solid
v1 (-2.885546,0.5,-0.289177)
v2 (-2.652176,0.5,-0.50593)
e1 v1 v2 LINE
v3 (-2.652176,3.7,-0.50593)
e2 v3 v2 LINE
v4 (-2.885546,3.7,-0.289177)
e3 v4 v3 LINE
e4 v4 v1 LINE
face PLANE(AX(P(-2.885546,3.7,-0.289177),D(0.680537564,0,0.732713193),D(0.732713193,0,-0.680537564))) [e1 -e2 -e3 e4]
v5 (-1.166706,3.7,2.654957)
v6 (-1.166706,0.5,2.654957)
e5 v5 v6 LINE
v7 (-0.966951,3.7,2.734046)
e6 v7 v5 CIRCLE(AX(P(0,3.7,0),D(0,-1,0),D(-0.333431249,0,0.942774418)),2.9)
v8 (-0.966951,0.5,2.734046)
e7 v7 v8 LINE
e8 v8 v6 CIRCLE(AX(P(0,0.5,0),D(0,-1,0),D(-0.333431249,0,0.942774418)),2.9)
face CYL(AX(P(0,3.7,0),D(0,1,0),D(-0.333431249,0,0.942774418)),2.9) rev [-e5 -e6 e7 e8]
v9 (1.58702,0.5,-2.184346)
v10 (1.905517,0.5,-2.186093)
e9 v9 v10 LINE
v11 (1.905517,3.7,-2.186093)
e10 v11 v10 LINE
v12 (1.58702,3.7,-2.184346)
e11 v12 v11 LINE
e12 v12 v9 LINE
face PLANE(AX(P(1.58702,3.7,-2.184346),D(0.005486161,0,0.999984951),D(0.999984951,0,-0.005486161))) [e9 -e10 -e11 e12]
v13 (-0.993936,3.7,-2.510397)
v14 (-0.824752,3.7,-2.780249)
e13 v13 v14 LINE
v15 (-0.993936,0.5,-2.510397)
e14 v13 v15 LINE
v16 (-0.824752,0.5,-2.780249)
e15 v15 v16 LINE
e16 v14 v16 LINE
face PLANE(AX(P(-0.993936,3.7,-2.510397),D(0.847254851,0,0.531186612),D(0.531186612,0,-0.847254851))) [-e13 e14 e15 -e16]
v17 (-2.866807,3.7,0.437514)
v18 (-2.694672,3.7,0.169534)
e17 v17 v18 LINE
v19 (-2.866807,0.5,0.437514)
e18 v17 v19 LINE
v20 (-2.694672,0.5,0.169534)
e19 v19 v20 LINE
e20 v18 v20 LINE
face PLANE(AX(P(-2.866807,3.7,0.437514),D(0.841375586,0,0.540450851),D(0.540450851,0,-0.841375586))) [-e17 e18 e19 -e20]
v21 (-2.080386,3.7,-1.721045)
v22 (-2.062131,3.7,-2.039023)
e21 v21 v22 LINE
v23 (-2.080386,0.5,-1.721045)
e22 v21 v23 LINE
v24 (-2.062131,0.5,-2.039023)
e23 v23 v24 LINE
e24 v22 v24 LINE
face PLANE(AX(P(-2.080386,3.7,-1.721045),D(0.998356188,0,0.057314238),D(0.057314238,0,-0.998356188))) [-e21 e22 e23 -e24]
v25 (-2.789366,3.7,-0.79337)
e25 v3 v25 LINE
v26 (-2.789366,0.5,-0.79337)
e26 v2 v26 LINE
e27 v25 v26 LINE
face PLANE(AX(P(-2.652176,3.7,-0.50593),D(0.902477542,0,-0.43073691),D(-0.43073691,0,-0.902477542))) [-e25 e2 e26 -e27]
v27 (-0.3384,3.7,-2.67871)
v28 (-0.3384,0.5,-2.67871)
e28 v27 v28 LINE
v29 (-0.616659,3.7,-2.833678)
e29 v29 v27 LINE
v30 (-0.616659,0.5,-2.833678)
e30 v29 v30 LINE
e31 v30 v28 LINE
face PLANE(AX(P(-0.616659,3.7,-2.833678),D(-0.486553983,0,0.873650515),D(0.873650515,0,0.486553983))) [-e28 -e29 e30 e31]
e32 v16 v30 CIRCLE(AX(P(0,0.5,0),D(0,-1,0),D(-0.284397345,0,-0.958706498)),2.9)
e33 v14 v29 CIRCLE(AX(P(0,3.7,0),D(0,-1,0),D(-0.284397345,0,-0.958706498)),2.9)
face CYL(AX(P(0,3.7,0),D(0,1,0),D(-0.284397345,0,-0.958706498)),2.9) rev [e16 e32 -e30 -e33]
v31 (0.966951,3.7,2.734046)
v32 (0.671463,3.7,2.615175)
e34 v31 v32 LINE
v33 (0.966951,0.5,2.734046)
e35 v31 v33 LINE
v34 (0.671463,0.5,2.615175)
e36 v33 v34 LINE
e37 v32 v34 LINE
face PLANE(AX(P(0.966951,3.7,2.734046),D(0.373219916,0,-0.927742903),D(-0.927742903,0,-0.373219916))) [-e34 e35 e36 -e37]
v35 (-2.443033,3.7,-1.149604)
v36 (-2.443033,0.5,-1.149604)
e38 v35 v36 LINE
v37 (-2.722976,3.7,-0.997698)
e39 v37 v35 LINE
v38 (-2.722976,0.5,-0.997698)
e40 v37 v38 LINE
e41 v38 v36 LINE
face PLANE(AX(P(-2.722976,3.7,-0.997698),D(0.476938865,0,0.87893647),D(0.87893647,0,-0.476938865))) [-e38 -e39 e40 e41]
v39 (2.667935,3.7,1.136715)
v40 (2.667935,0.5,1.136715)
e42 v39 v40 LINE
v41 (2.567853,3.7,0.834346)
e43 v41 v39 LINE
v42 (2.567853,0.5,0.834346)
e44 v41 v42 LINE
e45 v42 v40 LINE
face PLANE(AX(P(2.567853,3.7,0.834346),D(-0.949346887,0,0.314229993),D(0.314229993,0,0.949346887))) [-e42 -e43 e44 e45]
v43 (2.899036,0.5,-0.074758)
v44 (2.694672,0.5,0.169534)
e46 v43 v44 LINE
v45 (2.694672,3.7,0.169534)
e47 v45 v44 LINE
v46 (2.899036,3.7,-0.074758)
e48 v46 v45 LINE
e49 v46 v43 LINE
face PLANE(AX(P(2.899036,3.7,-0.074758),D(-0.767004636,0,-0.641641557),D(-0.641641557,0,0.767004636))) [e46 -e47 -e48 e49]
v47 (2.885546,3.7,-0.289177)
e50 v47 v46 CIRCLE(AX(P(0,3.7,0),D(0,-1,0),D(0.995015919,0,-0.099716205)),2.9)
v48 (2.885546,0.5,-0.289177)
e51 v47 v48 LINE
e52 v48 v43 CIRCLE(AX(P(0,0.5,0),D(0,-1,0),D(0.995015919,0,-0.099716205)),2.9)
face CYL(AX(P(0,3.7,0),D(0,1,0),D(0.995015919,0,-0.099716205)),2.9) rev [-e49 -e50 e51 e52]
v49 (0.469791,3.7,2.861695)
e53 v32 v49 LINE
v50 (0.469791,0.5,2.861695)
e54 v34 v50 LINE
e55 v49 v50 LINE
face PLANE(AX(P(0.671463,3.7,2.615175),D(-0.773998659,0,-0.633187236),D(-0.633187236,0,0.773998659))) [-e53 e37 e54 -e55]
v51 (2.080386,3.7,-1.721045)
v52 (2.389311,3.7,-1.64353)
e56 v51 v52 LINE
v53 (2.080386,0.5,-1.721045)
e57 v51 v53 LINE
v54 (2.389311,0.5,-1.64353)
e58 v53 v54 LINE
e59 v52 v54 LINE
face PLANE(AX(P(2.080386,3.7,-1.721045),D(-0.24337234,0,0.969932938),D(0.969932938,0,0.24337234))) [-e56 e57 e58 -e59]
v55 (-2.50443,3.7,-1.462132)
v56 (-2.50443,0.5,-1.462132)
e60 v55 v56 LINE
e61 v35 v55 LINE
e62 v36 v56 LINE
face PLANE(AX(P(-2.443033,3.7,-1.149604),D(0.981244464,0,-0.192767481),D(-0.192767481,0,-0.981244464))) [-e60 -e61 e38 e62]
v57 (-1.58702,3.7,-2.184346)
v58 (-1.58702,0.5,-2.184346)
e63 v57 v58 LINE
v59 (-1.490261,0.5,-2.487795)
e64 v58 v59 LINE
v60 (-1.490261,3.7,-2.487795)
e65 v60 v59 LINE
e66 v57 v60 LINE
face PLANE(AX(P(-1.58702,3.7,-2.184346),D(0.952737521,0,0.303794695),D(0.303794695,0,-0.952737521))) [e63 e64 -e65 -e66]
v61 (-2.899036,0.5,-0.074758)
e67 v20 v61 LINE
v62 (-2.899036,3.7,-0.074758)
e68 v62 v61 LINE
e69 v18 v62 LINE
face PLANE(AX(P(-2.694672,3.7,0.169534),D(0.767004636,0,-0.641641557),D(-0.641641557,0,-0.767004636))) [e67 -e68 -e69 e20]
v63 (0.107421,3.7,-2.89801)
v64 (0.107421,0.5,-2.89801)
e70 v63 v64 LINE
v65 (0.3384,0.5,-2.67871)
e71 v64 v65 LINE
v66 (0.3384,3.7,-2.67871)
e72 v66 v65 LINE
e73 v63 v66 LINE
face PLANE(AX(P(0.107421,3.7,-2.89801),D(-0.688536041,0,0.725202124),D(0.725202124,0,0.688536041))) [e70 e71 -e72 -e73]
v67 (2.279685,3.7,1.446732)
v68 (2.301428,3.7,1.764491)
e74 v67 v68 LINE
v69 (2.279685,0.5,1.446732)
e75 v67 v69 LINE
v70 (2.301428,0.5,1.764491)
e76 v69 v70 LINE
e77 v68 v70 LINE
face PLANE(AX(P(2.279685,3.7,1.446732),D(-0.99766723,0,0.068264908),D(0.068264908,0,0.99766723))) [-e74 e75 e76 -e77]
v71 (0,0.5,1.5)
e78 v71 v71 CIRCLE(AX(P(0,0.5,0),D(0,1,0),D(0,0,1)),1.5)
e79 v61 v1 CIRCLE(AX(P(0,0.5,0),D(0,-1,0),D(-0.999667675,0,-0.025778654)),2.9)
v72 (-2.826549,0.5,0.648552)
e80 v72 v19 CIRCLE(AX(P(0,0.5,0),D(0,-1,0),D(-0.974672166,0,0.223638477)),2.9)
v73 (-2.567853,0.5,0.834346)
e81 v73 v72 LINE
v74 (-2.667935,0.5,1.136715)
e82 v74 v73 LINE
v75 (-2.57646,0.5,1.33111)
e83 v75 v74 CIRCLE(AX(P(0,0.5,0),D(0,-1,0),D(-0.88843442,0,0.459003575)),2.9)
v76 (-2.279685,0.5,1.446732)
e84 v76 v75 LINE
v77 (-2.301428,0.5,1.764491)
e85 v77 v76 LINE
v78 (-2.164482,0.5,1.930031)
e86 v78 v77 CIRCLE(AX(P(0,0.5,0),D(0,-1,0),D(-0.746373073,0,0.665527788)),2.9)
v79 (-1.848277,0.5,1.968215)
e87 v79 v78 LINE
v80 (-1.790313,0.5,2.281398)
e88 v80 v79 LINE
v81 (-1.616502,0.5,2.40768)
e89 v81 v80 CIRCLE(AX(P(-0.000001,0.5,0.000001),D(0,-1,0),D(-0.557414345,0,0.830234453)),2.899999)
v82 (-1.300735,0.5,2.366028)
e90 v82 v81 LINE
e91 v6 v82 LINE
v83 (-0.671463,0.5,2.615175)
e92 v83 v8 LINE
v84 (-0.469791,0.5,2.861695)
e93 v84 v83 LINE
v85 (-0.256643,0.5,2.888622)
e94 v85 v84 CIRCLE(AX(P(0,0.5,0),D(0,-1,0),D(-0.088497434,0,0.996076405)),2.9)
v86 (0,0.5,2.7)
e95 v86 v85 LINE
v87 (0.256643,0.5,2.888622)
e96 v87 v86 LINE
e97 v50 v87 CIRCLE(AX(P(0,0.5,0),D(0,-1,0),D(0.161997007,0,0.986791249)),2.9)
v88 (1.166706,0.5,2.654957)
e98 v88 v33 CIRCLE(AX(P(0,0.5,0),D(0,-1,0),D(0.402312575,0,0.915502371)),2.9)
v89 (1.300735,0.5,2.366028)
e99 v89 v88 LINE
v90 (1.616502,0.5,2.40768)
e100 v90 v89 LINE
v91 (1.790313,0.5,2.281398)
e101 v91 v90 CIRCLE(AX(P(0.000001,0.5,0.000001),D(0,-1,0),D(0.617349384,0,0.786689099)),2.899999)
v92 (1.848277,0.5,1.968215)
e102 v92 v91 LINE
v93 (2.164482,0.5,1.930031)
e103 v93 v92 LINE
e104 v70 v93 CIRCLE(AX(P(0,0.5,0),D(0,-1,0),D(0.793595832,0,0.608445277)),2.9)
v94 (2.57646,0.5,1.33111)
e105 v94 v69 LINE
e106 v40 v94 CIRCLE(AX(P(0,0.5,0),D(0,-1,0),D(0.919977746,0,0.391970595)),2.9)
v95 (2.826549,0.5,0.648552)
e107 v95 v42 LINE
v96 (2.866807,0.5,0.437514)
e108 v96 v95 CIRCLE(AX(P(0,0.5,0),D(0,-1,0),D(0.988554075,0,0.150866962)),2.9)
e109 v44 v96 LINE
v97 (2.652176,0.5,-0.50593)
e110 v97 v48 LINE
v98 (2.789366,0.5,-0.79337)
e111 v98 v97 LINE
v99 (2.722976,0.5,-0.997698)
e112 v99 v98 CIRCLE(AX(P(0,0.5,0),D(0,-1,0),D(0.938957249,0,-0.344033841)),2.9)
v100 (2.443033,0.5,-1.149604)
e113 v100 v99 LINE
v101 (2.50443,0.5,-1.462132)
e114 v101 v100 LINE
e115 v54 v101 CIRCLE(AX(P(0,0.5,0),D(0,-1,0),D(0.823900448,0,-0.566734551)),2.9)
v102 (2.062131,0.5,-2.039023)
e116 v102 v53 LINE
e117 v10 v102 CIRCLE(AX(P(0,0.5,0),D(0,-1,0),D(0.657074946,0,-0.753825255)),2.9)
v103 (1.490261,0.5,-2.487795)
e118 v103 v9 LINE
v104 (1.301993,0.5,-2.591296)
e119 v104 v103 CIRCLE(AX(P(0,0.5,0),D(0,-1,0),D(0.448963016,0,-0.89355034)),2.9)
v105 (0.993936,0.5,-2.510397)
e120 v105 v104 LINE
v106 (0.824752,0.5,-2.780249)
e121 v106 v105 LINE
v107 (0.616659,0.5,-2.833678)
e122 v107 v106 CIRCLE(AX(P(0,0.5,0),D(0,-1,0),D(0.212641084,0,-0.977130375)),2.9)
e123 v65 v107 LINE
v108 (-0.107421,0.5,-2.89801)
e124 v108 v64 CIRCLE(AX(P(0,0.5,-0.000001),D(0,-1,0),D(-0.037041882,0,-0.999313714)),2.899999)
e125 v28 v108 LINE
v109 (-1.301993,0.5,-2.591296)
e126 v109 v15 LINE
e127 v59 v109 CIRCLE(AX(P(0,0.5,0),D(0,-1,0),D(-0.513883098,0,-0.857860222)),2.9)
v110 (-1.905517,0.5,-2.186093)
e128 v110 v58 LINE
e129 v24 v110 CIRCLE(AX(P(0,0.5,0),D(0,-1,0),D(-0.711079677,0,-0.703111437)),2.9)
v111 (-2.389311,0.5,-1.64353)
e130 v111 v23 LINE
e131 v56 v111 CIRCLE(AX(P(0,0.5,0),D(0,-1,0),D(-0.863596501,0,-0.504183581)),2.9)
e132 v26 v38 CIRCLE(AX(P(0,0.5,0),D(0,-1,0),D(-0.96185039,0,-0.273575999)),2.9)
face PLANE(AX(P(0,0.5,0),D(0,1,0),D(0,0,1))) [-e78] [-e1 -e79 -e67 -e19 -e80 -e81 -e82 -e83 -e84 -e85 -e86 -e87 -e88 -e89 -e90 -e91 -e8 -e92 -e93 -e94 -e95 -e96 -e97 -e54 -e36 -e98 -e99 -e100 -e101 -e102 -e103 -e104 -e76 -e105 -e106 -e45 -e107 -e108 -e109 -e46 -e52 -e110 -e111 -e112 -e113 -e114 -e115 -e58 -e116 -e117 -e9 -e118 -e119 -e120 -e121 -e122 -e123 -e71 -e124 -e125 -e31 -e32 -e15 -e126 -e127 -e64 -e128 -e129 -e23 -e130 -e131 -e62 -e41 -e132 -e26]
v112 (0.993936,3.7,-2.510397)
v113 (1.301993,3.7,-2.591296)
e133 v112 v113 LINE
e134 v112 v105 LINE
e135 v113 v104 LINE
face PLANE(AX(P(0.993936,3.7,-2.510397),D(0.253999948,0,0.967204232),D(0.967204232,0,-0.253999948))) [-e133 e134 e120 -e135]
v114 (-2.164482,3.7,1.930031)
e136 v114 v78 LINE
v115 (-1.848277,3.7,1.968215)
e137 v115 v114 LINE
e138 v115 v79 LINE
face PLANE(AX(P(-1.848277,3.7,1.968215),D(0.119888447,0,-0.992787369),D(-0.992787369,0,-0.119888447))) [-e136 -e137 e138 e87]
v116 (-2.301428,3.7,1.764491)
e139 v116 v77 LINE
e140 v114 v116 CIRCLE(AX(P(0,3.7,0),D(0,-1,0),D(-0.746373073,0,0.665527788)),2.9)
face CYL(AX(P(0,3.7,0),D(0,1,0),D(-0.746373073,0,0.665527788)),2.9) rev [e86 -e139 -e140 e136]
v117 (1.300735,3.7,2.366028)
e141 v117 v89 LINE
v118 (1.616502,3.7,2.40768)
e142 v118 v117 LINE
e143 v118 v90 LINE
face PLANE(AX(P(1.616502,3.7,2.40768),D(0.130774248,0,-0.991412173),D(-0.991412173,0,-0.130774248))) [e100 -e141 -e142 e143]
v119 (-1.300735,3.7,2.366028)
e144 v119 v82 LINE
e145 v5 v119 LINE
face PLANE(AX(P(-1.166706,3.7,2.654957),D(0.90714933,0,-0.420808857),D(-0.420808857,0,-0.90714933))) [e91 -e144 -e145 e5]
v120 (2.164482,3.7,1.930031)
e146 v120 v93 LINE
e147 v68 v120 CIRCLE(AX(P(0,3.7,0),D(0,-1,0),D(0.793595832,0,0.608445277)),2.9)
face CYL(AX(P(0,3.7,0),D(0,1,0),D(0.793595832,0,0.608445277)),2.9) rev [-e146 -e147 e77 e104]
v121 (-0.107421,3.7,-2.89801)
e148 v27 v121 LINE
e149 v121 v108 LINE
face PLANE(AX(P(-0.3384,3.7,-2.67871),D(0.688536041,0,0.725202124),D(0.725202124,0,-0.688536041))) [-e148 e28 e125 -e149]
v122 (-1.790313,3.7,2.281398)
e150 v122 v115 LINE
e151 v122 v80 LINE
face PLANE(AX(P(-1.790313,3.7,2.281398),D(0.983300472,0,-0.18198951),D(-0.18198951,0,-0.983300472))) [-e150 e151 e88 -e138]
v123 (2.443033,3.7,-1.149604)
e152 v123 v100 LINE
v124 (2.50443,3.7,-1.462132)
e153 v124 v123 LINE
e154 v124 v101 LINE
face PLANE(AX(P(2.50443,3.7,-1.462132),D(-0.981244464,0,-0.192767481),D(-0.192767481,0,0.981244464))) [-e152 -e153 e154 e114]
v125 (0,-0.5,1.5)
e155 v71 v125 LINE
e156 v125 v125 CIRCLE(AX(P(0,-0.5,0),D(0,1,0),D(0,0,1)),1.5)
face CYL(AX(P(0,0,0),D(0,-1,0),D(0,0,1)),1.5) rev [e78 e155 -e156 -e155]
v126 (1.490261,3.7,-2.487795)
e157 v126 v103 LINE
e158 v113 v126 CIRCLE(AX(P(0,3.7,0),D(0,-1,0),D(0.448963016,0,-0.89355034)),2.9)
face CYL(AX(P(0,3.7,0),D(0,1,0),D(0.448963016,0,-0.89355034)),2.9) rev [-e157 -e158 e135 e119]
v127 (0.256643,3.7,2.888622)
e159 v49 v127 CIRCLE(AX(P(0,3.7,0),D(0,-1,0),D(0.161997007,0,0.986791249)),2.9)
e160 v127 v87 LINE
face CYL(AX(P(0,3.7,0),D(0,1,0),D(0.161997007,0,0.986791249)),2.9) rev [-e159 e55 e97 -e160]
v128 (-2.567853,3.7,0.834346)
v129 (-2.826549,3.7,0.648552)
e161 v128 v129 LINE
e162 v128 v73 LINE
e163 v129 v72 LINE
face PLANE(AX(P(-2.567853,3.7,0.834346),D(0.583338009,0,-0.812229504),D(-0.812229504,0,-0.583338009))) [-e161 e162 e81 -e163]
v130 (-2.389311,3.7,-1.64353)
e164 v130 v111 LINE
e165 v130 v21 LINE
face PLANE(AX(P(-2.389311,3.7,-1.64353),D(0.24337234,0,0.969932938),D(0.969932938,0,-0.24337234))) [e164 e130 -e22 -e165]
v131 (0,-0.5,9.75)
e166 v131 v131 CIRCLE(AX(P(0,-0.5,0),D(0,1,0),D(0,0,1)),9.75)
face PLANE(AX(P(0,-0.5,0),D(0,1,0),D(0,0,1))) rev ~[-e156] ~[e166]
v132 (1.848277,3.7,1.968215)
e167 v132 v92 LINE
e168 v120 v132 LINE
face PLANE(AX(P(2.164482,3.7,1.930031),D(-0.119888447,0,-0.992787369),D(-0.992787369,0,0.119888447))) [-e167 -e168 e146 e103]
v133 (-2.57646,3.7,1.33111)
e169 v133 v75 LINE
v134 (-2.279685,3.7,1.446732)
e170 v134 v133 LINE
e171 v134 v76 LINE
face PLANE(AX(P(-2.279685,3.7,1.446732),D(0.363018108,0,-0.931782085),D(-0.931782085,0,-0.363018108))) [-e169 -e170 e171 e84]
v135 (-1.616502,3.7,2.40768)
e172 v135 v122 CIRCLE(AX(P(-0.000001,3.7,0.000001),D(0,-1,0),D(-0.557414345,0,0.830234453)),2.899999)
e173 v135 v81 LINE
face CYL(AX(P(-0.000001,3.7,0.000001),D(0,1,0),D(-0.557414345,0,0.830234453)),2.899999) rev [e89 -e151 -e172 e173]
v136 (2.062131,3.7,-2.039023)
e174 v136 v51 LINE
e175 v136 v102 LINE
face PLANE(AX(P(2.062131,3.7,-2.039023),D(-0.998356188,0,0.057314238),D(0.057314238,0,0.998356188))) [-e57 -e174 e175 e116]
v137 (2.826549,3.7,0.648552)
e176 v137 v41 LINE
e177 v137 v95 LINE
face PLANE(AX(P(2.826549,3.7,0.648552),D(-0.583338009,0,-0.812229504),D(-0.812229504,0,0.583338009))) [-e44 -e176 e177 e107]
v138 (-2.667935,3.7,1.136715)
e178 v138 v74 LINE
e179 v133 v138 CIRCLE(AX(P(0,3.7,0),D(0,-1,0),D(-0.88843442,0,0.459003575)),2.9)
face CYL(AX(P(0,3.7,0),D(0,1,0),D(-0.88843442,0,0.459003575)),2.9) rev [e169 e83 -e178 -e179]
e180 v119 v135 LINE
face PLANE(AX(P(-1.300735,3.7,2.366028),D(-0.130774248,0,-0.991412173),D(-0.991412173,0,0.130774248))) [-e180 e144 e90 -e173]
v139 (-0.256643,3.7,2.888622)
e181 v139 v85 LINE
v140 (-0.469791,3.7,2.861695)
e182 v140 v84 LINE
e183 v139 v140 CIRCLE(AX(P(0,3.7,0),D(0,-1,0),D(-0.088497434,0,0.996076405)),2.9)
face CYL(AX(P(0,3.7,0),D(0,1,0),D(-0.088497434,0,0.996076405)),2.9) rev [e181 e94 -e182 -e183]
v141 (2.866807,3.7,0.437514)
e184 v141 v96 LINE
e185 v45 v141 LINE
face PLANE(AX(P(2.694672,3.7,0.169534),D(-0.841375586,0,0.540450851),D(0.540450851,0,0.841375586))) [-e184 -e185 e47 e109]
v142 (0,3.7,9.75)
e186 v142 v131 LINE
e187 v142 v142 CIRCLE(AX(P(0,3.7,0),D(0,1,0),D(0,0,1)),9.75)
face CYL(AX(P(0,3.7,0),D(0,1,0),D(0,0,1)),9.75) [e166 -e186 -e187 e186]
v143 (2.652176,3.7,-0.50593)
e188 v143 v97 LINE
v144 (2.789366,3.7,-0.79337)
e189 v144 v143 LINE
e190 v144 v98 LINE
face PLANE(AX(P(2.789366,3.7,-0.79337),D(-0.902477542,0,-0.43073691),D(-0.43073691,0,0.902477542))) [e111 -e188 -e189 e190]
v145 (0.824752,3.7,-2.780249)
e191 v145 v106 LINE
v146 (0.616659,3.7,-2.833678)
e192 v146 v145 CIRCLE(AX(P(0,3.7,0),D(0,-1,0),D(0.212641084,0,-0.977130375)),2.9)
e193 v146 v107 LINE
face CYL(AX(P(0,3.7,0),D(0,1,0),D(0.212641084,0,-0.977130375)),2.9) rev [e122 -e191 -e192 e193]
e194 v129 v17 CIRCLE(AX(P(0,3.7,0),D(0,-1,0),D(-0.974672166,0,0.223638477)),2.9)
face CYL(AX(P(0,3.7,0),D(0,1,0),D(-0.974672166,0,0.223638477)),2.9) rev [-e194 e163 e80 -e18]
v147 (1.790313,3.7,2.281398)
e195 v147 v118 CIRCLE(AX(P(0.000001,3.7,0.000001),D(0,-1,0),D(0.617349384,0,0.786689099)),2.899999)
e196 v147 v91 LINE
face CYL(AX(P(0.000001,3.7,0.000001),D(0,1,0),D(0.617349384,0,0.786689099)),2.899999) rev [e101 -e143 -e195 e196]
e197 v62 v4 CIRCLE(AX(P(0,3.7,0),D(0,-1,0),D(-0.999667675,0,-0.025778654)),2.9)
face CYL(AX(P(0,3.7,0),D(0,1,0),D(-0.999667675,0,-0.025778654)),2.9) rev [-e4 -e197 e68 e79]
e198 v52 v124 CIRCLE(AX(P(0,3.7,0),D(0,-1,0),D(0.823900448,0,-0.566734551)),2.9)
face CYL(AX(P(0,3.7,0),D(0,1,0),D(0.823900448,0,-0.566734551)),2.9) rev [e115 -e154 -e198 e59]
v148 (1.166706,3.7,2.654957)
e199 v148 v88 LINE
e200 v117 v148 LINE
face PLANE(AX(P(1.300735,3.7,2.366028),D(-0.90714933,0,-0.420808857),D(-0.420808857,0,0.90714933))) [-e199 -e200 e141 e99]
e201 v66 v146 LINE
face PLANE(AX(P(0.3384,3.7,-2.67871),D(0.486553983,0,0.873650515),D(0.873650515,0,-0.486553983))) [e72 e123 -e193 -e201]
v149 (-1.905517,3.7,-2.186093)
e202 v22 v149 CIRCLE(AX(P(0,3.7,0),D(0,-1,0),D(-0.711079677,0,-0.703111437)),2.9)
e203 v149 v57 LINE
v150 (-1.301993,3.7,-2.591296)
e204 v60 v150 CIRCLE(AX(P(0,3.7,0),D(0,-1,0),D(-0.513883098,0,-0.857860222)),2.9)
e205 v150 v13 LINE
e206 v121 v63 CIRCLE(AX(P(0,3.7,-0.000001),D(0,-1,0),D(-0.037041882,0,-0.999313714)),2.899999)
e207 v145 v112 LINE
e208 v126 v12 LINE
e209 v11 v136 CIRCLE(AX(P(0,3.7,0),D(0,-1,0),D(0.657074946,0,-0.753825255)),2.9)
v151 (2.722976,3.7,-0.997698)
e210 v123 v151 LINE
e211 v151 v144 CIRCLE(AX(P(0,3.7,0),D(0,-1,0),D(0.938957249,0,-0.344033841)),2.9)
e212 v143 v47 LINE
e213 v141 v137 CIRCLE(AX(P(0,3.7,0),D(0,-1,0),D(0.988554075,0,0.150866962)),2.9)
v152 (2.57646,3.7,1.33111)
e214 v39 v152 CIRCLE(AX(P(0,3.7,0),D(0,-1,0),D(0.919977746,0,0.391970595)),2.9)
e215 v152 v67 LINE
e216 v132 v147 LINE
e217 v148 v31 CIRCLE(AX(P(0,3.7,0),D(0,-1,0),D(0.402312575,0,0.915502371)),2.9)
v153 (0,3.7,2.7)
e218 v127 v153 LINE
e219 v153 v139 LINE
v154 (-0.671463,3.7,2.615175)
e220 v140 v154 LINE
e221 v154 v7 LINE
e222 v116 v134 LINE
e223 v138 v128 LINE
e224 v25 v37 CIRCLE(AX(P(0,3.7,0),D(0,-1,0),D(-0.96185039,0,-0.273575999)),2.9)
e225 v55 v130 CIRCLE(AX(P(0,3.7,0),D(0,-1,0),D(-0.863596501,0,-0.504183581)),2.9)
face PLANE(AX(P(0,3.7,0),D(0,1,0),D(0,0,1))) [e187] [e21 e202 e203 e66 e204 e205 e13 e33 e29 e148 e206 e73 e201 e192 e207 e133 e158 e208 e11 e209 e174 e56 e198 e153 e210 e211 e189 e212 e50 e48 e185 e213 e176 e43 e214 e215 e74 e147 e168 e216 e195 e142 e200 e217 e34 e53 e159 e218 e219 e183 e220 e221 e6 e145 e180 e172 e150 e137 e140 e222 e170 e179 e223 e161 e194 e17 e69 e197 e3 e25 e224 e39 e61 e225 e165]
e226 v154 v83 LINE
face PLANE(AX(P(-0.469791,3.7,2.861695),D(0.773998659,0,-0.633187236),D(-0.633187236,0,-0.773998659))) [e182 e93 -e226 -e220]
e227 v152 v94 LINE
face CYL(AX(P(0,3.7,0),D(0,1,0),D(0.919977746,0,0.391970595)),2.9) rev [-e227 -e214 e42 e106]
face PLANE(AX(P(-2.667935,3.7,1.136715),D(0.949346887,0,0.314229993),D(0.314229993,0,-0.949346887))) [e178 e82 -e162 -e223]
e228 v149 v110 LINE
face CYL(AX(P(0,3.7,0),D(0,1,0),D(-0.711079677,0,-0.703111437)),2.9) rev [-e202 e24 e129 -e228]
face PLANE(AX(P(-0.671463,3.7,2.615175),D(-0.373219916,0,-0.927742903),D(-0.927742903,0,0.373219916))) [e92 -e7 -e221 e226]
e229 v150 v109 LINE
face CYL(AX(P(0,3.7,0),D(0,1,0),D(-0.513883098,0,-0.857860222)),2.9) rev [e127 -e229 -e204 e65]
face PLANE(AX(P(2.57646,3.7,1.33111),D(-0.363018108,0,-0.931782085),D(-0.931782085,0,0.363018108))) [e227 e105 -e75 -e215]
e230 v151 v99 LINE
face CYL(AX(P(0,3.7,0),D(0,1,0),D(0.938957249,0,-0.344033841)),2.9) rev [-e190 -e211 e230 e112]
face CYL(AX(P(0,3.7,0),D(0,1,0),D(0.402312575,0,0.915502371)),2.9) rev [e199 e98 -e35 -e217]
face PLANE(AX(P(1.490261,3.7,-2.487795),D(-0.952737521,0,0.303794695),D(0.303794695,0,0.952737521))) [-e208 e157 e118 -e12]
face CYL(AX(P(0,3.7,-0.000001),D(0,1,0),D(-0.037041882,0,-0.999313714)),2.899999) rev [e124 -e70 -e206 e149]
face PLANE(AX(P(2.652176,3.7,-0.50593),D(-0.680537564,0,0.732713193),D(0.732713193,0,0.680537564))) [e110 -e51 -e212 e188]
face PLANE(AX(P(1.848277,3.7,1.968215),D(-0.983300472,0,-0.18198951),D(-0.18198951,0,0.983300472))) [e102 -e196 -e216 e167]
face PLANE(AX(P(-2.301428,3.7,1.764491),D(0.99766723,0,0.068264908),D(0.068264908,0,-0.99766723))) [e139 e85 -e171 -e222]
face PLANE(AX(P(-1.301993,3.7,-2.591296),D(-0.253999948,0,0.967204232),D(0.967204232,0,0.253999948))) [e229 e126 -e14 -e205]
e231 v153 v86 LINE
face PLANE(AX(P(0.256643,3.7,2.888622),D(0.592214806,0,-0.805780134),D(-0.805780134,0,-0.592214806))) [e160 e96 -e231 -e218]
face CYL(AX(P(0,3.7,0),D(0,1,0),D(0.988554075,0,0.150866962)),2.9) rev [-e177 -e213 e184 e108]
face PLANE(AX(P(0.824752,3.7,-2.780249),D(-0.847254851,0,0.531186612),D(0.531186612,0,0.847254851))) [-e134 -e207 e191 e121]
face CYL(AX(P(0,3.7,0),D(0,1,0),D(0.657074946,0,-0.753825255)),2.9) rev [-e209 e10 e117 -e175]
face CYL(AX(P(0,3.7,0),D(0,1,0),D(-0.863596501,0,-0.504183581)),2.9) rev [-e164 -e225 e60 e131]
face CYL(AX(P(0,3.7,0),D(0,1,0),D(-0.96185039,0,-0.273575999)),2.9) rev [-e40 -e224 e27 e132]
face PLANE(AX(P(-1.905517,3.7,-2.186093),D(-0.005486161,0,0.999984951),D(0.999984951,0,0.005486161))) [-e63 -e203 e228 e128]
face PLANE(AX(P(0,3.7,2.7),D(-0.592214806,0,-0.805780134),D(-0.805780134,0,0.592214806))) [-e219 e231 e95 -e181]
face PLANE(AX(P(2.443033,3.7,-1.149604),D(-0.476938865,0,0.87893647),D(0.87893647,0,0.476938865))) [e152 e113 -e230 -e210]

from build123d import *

# Parameters (mm, degrees)
SKETCH2_R           = 9.75
SKETCH2_R_2         = 1.5
BOSS_EXTRUDE1_DEPTH = 0.5
BOSS_EXTRUDE2_START = 3.2
SKETCH3_R           = 9.75
BOSS_EXTRUDE2_DEPTH = 3.2


with BuildPart() as part:
    # Sketch2 → Boss-Extrude1 (new, symmetric)
    with BuildSketch(Plane(origin=(0, 0, 0), x_dir=(1, 0, 0), z_dir=(0, 1, 0))):
        with Locations(Location((0, 0, 0), (0, 0, 270))):
            Circle(SKETCH2_R)
        with Locations(Location((0, 0, 0), (0, 0, 270))):
            Circle(SKETCH2_R_2, mode=Mode.SUBTRACT)
    extrude(amount=BOSS_EXTRUDE1_DEPTH, both=True)

    # Sketch3 → Boss-Extrude2 (add)
    with BuildSketch(Plane(origin=(0, 0.5, 0), x_dir=(1, 0, 0), z_dir=(0, 1, 0)).offset(BOSS_EXTRUDE2_START)):
        with Locations(Location((0, 0, 0), (0, 0, 270))):
            Circle(SKETCH3_R)
        with BuildLine():
            Line((0.107421435, 2.898009771), (0.338399731, 2.678709694))
            Line((0.338399731, 2.678709694), (0.61665913, 2.83367809))
            ThreePointArc((0.61665913, 2.83367809), (0.721200673, 2.808891167), (0.824752316, 2.780248841))
            Line((0.824752316, 2.780248841), (0.993936292, 2.510396512))
            Line((0.993936292, 2.510396512), (1.301992734, 2.591295993))
            ThreePointArc((1.301992734, 2.591295993), (1.397085655, 2.541289372), (1.490260976, 2.48779465))
            Line((1.490260976, 2.48779465), (1.587020181, 2.184345885))
            Line((1.587020181, 2.184345885), (1.905517346, 2.186093238))
            ThreePointArc((1.905517346, 2.186093238), (1.985186607, 2.11400902), (2.062131058, 2.039023173))
            Line((2.062131058, 2.039023173), (2.080385755, 1.721044772))
            Line((2.080385755, 1.721044772), (2.389311295, 1.643530205))
            ThreePointArc((2.389311295, 1.643530205), (2.448550984, 1.553897705), (2.504429862, 1.46213237))
            Line((2.504429862, 1.46213237), (2.443033042, 1.149604087))
            Line((2.443033042, 1.149604087), (2.722976028, 0.997698125))
            ThreePointArc((2.722976028, 0.997698125), (2.758063897, 0.896149284), (2.789366126, 0.793370413))
            Line((2.789366126, 0.793370413), (2.652175577, 0.505929549))
            Line((2.652175577, 0.505929549), (2.885546163, 0.289177003))
            ThreePointArc((2.885546163, 0.289177003), (2.894277512, 0.182092507), (2.899036259, 0.074758075))
            Line((2.899036259, 0.074758075), (2.694672167, -0.169534403))
            Line((2.694672167, -0.169534403), (2.866806821, -0.437514174))
            ThreePointArc((2.866806821, -0.437514174), (2.848633027, -0.543405812), (2.826549281, -0.648551587))
            Line((2.826549281, -0.648551587), (2.567852594, -0.834345885))
            Line((2.567852594, -0.834345885), (2.667935462, -1.136714727))
            ThreePointArc((2.667935462, -1.136714727), (2.623998452, -1.234759946), (2.576459817, -1.331110368))
            Line((2.576459817, -1.331110368), (2.279685399, -1.446732346))
            Line((2.279685399, -1.446732346), (2.301427906, -1.764491312))
            ThreePointArc((2.301427906, -1.764491312), (2.234488404, -1.84852957), (2.164481907, -1.930030589))
            Line((2.164481907, -1.930030589), (1.848277186, -1.968215294))
            Line((1.848277186, -1.968215294), (1.790313171, -2.281398419))
            ThreePointArc((1.790313171, -2.281398419), (1.704577232, -2.346149284), (1.616501638, -2.40767989))
            Line((1.616501638, -2.40767989), (1.30073492, -2.366028036))
            Line((1.30073492, -2.366028036), (1.166706475, -2.654956874))
            ThreePointArc((1.166706475, -2.654956874), (1.067561203, -2.696351809), (0.966950626, -2.734045809))
            Line((0.966950626, -2.734045809), (0.671462695, -2.615174535))
            Line((0.671462695, -2.615174535), (0.469791321, -2.861694623))
            ThreePointArc((0.469791321, -2.861694623), (0.363466377, -2.877132634), (0.25664255, -2.888621575))
            Line((0.25664255, -2.888621575), (0, -2.7))
            Line((0, -2.7), (-0.25664255, -2.888621575))
            ThreePointArc((-0.25664255, -2.888621575), (-0.363466377, -2.877132634), (-0.469791321, -2.861694623))
            Line((-0.469791321, -2.861694623), (-0.671462695, -2.615174535))
            Line((-0.671462695, -2.615174535), (-0.966950626, -2.734045809))
            ThreePointArc((-0.966950626, -2.734045809), (-1.067561203, -2.696351809), (-1.166706475, -2.654956874))
            Line((-1.166706475, -2.654956874), (-1.30073492, -2.366028036))
            Line((-1.30073492, -2.366028036), (-1.616501638, -2.40767989))
            ThreePointArc((-1.616501638, -2.40767989), (-1.704577232, -2.346149284), (-1.790313171, -2.281398419))
            Line((-1.790313171, -2.281398419), (-1.848277186, -1.968215294))
            Line((-1.848277186, -1.968215294), (-2.164481907, -1.930030589))
            ThreePointArc((-2.164481907, -1.930030589), (-2.234488404, -1.84852957), (-2.301427906, -1.764491312))
            Line((-2.301427906, -1.764491312), (-2.279685399, -1.446732346))
            Line((-2.279685399, -1.446732346), (-2.576459817, -1.331110368))
            ThreePointArc((-2.576459817, -1.331110368), (-2.623998452, -1.234759946), (-2.667935462, -1.136714727))
            Line((-2.667935462, -1.136714727), (-2.567852594, -0.834345885))
            Line((-2.567852594, -0.834345885), (-2.826549281, -0.648551587))
            ThreePointArc((-2.826549281, -0.648551587), (-2.848633027, -0.543405812), (-2.866806821, -0.437514174))
            Line((-2.866806821, -0.437514174), (-2.694672167, -0.169534403))
            Line((-2.694672167, -0.169534403), (-2.899036259, 0.074758075))
            ThreePointArc((-2.899036259, 0.074758075), (-2.894277512, 0.182092507), (-2.885546163, 0.289177003))
            Line((-2.885546163, 0.289177003), (-2.652175577, 0.505929549))
            Line((-2.652175577, 0.505929549), (-2.789366126, 0.793370413))
            ThreePointArc((-2.789366126, 0.793370413), (-2.758063897, 0.896149284), (-2.722976028, 0.997698125))
            Line((-2.722976028, 0.997698125), (-2.443033042, 1.149604087))
            Line((-2.443033042, 1.149604087), (-2.504429862, 1.46213237))
            ThreePointArc((-2.504429862, 1.46213237), (-2.448550984, 1.553897705), (-2.389311295, 1.643530205))
            Line((-2.389311295, 1.643530205), (-2.080385755, 1.721044772))
            Line((-2.080385755, 1.721044772), (-2.062131058, 2.039023173))
            ThreePointArc((-2.062131058, 2.039023173), (-1.985186607, 2.11400902), (-1.905517346, 2.186093238))
            Line((-1.905517346, 2.186093238), (-1.587020181, 2.184345885))
            Line((-1.587020181, 2.184345885), (-1.490260976, 2.48779465))
            ThreePointArc((-1.490260976, 2.48779465), (-1.397085655, 2.541289372), (-1.301992734, 2.591295993))
            Line((-1.301992734, 2.591295993), (-0.993936292, 2.510396512))
            Line((-0.993936292, 2.510396512), (-0.824752316, 2.780248841))
            ThreePointArc((-0.824752316, 2.780248841), (-0.721200673, 2.808891167), (-0.61665913, 2.83367809))
            Line((-0.61665913, 2.83367809), (-0.338399731, 2.678709694))
            Line((-0.338399731, 2.678709694), (-0.107421435, 2.898009771))
            ThreePointArc((-0.107421435, 2.898009771), (0, 2.9), (0.107421435, 2.898009771))
        make_face(mode=Mode.SUBTRACT)
    extrude(amount=-BOSS_EXTRUDE2_DEPTH)


solid = part.part
